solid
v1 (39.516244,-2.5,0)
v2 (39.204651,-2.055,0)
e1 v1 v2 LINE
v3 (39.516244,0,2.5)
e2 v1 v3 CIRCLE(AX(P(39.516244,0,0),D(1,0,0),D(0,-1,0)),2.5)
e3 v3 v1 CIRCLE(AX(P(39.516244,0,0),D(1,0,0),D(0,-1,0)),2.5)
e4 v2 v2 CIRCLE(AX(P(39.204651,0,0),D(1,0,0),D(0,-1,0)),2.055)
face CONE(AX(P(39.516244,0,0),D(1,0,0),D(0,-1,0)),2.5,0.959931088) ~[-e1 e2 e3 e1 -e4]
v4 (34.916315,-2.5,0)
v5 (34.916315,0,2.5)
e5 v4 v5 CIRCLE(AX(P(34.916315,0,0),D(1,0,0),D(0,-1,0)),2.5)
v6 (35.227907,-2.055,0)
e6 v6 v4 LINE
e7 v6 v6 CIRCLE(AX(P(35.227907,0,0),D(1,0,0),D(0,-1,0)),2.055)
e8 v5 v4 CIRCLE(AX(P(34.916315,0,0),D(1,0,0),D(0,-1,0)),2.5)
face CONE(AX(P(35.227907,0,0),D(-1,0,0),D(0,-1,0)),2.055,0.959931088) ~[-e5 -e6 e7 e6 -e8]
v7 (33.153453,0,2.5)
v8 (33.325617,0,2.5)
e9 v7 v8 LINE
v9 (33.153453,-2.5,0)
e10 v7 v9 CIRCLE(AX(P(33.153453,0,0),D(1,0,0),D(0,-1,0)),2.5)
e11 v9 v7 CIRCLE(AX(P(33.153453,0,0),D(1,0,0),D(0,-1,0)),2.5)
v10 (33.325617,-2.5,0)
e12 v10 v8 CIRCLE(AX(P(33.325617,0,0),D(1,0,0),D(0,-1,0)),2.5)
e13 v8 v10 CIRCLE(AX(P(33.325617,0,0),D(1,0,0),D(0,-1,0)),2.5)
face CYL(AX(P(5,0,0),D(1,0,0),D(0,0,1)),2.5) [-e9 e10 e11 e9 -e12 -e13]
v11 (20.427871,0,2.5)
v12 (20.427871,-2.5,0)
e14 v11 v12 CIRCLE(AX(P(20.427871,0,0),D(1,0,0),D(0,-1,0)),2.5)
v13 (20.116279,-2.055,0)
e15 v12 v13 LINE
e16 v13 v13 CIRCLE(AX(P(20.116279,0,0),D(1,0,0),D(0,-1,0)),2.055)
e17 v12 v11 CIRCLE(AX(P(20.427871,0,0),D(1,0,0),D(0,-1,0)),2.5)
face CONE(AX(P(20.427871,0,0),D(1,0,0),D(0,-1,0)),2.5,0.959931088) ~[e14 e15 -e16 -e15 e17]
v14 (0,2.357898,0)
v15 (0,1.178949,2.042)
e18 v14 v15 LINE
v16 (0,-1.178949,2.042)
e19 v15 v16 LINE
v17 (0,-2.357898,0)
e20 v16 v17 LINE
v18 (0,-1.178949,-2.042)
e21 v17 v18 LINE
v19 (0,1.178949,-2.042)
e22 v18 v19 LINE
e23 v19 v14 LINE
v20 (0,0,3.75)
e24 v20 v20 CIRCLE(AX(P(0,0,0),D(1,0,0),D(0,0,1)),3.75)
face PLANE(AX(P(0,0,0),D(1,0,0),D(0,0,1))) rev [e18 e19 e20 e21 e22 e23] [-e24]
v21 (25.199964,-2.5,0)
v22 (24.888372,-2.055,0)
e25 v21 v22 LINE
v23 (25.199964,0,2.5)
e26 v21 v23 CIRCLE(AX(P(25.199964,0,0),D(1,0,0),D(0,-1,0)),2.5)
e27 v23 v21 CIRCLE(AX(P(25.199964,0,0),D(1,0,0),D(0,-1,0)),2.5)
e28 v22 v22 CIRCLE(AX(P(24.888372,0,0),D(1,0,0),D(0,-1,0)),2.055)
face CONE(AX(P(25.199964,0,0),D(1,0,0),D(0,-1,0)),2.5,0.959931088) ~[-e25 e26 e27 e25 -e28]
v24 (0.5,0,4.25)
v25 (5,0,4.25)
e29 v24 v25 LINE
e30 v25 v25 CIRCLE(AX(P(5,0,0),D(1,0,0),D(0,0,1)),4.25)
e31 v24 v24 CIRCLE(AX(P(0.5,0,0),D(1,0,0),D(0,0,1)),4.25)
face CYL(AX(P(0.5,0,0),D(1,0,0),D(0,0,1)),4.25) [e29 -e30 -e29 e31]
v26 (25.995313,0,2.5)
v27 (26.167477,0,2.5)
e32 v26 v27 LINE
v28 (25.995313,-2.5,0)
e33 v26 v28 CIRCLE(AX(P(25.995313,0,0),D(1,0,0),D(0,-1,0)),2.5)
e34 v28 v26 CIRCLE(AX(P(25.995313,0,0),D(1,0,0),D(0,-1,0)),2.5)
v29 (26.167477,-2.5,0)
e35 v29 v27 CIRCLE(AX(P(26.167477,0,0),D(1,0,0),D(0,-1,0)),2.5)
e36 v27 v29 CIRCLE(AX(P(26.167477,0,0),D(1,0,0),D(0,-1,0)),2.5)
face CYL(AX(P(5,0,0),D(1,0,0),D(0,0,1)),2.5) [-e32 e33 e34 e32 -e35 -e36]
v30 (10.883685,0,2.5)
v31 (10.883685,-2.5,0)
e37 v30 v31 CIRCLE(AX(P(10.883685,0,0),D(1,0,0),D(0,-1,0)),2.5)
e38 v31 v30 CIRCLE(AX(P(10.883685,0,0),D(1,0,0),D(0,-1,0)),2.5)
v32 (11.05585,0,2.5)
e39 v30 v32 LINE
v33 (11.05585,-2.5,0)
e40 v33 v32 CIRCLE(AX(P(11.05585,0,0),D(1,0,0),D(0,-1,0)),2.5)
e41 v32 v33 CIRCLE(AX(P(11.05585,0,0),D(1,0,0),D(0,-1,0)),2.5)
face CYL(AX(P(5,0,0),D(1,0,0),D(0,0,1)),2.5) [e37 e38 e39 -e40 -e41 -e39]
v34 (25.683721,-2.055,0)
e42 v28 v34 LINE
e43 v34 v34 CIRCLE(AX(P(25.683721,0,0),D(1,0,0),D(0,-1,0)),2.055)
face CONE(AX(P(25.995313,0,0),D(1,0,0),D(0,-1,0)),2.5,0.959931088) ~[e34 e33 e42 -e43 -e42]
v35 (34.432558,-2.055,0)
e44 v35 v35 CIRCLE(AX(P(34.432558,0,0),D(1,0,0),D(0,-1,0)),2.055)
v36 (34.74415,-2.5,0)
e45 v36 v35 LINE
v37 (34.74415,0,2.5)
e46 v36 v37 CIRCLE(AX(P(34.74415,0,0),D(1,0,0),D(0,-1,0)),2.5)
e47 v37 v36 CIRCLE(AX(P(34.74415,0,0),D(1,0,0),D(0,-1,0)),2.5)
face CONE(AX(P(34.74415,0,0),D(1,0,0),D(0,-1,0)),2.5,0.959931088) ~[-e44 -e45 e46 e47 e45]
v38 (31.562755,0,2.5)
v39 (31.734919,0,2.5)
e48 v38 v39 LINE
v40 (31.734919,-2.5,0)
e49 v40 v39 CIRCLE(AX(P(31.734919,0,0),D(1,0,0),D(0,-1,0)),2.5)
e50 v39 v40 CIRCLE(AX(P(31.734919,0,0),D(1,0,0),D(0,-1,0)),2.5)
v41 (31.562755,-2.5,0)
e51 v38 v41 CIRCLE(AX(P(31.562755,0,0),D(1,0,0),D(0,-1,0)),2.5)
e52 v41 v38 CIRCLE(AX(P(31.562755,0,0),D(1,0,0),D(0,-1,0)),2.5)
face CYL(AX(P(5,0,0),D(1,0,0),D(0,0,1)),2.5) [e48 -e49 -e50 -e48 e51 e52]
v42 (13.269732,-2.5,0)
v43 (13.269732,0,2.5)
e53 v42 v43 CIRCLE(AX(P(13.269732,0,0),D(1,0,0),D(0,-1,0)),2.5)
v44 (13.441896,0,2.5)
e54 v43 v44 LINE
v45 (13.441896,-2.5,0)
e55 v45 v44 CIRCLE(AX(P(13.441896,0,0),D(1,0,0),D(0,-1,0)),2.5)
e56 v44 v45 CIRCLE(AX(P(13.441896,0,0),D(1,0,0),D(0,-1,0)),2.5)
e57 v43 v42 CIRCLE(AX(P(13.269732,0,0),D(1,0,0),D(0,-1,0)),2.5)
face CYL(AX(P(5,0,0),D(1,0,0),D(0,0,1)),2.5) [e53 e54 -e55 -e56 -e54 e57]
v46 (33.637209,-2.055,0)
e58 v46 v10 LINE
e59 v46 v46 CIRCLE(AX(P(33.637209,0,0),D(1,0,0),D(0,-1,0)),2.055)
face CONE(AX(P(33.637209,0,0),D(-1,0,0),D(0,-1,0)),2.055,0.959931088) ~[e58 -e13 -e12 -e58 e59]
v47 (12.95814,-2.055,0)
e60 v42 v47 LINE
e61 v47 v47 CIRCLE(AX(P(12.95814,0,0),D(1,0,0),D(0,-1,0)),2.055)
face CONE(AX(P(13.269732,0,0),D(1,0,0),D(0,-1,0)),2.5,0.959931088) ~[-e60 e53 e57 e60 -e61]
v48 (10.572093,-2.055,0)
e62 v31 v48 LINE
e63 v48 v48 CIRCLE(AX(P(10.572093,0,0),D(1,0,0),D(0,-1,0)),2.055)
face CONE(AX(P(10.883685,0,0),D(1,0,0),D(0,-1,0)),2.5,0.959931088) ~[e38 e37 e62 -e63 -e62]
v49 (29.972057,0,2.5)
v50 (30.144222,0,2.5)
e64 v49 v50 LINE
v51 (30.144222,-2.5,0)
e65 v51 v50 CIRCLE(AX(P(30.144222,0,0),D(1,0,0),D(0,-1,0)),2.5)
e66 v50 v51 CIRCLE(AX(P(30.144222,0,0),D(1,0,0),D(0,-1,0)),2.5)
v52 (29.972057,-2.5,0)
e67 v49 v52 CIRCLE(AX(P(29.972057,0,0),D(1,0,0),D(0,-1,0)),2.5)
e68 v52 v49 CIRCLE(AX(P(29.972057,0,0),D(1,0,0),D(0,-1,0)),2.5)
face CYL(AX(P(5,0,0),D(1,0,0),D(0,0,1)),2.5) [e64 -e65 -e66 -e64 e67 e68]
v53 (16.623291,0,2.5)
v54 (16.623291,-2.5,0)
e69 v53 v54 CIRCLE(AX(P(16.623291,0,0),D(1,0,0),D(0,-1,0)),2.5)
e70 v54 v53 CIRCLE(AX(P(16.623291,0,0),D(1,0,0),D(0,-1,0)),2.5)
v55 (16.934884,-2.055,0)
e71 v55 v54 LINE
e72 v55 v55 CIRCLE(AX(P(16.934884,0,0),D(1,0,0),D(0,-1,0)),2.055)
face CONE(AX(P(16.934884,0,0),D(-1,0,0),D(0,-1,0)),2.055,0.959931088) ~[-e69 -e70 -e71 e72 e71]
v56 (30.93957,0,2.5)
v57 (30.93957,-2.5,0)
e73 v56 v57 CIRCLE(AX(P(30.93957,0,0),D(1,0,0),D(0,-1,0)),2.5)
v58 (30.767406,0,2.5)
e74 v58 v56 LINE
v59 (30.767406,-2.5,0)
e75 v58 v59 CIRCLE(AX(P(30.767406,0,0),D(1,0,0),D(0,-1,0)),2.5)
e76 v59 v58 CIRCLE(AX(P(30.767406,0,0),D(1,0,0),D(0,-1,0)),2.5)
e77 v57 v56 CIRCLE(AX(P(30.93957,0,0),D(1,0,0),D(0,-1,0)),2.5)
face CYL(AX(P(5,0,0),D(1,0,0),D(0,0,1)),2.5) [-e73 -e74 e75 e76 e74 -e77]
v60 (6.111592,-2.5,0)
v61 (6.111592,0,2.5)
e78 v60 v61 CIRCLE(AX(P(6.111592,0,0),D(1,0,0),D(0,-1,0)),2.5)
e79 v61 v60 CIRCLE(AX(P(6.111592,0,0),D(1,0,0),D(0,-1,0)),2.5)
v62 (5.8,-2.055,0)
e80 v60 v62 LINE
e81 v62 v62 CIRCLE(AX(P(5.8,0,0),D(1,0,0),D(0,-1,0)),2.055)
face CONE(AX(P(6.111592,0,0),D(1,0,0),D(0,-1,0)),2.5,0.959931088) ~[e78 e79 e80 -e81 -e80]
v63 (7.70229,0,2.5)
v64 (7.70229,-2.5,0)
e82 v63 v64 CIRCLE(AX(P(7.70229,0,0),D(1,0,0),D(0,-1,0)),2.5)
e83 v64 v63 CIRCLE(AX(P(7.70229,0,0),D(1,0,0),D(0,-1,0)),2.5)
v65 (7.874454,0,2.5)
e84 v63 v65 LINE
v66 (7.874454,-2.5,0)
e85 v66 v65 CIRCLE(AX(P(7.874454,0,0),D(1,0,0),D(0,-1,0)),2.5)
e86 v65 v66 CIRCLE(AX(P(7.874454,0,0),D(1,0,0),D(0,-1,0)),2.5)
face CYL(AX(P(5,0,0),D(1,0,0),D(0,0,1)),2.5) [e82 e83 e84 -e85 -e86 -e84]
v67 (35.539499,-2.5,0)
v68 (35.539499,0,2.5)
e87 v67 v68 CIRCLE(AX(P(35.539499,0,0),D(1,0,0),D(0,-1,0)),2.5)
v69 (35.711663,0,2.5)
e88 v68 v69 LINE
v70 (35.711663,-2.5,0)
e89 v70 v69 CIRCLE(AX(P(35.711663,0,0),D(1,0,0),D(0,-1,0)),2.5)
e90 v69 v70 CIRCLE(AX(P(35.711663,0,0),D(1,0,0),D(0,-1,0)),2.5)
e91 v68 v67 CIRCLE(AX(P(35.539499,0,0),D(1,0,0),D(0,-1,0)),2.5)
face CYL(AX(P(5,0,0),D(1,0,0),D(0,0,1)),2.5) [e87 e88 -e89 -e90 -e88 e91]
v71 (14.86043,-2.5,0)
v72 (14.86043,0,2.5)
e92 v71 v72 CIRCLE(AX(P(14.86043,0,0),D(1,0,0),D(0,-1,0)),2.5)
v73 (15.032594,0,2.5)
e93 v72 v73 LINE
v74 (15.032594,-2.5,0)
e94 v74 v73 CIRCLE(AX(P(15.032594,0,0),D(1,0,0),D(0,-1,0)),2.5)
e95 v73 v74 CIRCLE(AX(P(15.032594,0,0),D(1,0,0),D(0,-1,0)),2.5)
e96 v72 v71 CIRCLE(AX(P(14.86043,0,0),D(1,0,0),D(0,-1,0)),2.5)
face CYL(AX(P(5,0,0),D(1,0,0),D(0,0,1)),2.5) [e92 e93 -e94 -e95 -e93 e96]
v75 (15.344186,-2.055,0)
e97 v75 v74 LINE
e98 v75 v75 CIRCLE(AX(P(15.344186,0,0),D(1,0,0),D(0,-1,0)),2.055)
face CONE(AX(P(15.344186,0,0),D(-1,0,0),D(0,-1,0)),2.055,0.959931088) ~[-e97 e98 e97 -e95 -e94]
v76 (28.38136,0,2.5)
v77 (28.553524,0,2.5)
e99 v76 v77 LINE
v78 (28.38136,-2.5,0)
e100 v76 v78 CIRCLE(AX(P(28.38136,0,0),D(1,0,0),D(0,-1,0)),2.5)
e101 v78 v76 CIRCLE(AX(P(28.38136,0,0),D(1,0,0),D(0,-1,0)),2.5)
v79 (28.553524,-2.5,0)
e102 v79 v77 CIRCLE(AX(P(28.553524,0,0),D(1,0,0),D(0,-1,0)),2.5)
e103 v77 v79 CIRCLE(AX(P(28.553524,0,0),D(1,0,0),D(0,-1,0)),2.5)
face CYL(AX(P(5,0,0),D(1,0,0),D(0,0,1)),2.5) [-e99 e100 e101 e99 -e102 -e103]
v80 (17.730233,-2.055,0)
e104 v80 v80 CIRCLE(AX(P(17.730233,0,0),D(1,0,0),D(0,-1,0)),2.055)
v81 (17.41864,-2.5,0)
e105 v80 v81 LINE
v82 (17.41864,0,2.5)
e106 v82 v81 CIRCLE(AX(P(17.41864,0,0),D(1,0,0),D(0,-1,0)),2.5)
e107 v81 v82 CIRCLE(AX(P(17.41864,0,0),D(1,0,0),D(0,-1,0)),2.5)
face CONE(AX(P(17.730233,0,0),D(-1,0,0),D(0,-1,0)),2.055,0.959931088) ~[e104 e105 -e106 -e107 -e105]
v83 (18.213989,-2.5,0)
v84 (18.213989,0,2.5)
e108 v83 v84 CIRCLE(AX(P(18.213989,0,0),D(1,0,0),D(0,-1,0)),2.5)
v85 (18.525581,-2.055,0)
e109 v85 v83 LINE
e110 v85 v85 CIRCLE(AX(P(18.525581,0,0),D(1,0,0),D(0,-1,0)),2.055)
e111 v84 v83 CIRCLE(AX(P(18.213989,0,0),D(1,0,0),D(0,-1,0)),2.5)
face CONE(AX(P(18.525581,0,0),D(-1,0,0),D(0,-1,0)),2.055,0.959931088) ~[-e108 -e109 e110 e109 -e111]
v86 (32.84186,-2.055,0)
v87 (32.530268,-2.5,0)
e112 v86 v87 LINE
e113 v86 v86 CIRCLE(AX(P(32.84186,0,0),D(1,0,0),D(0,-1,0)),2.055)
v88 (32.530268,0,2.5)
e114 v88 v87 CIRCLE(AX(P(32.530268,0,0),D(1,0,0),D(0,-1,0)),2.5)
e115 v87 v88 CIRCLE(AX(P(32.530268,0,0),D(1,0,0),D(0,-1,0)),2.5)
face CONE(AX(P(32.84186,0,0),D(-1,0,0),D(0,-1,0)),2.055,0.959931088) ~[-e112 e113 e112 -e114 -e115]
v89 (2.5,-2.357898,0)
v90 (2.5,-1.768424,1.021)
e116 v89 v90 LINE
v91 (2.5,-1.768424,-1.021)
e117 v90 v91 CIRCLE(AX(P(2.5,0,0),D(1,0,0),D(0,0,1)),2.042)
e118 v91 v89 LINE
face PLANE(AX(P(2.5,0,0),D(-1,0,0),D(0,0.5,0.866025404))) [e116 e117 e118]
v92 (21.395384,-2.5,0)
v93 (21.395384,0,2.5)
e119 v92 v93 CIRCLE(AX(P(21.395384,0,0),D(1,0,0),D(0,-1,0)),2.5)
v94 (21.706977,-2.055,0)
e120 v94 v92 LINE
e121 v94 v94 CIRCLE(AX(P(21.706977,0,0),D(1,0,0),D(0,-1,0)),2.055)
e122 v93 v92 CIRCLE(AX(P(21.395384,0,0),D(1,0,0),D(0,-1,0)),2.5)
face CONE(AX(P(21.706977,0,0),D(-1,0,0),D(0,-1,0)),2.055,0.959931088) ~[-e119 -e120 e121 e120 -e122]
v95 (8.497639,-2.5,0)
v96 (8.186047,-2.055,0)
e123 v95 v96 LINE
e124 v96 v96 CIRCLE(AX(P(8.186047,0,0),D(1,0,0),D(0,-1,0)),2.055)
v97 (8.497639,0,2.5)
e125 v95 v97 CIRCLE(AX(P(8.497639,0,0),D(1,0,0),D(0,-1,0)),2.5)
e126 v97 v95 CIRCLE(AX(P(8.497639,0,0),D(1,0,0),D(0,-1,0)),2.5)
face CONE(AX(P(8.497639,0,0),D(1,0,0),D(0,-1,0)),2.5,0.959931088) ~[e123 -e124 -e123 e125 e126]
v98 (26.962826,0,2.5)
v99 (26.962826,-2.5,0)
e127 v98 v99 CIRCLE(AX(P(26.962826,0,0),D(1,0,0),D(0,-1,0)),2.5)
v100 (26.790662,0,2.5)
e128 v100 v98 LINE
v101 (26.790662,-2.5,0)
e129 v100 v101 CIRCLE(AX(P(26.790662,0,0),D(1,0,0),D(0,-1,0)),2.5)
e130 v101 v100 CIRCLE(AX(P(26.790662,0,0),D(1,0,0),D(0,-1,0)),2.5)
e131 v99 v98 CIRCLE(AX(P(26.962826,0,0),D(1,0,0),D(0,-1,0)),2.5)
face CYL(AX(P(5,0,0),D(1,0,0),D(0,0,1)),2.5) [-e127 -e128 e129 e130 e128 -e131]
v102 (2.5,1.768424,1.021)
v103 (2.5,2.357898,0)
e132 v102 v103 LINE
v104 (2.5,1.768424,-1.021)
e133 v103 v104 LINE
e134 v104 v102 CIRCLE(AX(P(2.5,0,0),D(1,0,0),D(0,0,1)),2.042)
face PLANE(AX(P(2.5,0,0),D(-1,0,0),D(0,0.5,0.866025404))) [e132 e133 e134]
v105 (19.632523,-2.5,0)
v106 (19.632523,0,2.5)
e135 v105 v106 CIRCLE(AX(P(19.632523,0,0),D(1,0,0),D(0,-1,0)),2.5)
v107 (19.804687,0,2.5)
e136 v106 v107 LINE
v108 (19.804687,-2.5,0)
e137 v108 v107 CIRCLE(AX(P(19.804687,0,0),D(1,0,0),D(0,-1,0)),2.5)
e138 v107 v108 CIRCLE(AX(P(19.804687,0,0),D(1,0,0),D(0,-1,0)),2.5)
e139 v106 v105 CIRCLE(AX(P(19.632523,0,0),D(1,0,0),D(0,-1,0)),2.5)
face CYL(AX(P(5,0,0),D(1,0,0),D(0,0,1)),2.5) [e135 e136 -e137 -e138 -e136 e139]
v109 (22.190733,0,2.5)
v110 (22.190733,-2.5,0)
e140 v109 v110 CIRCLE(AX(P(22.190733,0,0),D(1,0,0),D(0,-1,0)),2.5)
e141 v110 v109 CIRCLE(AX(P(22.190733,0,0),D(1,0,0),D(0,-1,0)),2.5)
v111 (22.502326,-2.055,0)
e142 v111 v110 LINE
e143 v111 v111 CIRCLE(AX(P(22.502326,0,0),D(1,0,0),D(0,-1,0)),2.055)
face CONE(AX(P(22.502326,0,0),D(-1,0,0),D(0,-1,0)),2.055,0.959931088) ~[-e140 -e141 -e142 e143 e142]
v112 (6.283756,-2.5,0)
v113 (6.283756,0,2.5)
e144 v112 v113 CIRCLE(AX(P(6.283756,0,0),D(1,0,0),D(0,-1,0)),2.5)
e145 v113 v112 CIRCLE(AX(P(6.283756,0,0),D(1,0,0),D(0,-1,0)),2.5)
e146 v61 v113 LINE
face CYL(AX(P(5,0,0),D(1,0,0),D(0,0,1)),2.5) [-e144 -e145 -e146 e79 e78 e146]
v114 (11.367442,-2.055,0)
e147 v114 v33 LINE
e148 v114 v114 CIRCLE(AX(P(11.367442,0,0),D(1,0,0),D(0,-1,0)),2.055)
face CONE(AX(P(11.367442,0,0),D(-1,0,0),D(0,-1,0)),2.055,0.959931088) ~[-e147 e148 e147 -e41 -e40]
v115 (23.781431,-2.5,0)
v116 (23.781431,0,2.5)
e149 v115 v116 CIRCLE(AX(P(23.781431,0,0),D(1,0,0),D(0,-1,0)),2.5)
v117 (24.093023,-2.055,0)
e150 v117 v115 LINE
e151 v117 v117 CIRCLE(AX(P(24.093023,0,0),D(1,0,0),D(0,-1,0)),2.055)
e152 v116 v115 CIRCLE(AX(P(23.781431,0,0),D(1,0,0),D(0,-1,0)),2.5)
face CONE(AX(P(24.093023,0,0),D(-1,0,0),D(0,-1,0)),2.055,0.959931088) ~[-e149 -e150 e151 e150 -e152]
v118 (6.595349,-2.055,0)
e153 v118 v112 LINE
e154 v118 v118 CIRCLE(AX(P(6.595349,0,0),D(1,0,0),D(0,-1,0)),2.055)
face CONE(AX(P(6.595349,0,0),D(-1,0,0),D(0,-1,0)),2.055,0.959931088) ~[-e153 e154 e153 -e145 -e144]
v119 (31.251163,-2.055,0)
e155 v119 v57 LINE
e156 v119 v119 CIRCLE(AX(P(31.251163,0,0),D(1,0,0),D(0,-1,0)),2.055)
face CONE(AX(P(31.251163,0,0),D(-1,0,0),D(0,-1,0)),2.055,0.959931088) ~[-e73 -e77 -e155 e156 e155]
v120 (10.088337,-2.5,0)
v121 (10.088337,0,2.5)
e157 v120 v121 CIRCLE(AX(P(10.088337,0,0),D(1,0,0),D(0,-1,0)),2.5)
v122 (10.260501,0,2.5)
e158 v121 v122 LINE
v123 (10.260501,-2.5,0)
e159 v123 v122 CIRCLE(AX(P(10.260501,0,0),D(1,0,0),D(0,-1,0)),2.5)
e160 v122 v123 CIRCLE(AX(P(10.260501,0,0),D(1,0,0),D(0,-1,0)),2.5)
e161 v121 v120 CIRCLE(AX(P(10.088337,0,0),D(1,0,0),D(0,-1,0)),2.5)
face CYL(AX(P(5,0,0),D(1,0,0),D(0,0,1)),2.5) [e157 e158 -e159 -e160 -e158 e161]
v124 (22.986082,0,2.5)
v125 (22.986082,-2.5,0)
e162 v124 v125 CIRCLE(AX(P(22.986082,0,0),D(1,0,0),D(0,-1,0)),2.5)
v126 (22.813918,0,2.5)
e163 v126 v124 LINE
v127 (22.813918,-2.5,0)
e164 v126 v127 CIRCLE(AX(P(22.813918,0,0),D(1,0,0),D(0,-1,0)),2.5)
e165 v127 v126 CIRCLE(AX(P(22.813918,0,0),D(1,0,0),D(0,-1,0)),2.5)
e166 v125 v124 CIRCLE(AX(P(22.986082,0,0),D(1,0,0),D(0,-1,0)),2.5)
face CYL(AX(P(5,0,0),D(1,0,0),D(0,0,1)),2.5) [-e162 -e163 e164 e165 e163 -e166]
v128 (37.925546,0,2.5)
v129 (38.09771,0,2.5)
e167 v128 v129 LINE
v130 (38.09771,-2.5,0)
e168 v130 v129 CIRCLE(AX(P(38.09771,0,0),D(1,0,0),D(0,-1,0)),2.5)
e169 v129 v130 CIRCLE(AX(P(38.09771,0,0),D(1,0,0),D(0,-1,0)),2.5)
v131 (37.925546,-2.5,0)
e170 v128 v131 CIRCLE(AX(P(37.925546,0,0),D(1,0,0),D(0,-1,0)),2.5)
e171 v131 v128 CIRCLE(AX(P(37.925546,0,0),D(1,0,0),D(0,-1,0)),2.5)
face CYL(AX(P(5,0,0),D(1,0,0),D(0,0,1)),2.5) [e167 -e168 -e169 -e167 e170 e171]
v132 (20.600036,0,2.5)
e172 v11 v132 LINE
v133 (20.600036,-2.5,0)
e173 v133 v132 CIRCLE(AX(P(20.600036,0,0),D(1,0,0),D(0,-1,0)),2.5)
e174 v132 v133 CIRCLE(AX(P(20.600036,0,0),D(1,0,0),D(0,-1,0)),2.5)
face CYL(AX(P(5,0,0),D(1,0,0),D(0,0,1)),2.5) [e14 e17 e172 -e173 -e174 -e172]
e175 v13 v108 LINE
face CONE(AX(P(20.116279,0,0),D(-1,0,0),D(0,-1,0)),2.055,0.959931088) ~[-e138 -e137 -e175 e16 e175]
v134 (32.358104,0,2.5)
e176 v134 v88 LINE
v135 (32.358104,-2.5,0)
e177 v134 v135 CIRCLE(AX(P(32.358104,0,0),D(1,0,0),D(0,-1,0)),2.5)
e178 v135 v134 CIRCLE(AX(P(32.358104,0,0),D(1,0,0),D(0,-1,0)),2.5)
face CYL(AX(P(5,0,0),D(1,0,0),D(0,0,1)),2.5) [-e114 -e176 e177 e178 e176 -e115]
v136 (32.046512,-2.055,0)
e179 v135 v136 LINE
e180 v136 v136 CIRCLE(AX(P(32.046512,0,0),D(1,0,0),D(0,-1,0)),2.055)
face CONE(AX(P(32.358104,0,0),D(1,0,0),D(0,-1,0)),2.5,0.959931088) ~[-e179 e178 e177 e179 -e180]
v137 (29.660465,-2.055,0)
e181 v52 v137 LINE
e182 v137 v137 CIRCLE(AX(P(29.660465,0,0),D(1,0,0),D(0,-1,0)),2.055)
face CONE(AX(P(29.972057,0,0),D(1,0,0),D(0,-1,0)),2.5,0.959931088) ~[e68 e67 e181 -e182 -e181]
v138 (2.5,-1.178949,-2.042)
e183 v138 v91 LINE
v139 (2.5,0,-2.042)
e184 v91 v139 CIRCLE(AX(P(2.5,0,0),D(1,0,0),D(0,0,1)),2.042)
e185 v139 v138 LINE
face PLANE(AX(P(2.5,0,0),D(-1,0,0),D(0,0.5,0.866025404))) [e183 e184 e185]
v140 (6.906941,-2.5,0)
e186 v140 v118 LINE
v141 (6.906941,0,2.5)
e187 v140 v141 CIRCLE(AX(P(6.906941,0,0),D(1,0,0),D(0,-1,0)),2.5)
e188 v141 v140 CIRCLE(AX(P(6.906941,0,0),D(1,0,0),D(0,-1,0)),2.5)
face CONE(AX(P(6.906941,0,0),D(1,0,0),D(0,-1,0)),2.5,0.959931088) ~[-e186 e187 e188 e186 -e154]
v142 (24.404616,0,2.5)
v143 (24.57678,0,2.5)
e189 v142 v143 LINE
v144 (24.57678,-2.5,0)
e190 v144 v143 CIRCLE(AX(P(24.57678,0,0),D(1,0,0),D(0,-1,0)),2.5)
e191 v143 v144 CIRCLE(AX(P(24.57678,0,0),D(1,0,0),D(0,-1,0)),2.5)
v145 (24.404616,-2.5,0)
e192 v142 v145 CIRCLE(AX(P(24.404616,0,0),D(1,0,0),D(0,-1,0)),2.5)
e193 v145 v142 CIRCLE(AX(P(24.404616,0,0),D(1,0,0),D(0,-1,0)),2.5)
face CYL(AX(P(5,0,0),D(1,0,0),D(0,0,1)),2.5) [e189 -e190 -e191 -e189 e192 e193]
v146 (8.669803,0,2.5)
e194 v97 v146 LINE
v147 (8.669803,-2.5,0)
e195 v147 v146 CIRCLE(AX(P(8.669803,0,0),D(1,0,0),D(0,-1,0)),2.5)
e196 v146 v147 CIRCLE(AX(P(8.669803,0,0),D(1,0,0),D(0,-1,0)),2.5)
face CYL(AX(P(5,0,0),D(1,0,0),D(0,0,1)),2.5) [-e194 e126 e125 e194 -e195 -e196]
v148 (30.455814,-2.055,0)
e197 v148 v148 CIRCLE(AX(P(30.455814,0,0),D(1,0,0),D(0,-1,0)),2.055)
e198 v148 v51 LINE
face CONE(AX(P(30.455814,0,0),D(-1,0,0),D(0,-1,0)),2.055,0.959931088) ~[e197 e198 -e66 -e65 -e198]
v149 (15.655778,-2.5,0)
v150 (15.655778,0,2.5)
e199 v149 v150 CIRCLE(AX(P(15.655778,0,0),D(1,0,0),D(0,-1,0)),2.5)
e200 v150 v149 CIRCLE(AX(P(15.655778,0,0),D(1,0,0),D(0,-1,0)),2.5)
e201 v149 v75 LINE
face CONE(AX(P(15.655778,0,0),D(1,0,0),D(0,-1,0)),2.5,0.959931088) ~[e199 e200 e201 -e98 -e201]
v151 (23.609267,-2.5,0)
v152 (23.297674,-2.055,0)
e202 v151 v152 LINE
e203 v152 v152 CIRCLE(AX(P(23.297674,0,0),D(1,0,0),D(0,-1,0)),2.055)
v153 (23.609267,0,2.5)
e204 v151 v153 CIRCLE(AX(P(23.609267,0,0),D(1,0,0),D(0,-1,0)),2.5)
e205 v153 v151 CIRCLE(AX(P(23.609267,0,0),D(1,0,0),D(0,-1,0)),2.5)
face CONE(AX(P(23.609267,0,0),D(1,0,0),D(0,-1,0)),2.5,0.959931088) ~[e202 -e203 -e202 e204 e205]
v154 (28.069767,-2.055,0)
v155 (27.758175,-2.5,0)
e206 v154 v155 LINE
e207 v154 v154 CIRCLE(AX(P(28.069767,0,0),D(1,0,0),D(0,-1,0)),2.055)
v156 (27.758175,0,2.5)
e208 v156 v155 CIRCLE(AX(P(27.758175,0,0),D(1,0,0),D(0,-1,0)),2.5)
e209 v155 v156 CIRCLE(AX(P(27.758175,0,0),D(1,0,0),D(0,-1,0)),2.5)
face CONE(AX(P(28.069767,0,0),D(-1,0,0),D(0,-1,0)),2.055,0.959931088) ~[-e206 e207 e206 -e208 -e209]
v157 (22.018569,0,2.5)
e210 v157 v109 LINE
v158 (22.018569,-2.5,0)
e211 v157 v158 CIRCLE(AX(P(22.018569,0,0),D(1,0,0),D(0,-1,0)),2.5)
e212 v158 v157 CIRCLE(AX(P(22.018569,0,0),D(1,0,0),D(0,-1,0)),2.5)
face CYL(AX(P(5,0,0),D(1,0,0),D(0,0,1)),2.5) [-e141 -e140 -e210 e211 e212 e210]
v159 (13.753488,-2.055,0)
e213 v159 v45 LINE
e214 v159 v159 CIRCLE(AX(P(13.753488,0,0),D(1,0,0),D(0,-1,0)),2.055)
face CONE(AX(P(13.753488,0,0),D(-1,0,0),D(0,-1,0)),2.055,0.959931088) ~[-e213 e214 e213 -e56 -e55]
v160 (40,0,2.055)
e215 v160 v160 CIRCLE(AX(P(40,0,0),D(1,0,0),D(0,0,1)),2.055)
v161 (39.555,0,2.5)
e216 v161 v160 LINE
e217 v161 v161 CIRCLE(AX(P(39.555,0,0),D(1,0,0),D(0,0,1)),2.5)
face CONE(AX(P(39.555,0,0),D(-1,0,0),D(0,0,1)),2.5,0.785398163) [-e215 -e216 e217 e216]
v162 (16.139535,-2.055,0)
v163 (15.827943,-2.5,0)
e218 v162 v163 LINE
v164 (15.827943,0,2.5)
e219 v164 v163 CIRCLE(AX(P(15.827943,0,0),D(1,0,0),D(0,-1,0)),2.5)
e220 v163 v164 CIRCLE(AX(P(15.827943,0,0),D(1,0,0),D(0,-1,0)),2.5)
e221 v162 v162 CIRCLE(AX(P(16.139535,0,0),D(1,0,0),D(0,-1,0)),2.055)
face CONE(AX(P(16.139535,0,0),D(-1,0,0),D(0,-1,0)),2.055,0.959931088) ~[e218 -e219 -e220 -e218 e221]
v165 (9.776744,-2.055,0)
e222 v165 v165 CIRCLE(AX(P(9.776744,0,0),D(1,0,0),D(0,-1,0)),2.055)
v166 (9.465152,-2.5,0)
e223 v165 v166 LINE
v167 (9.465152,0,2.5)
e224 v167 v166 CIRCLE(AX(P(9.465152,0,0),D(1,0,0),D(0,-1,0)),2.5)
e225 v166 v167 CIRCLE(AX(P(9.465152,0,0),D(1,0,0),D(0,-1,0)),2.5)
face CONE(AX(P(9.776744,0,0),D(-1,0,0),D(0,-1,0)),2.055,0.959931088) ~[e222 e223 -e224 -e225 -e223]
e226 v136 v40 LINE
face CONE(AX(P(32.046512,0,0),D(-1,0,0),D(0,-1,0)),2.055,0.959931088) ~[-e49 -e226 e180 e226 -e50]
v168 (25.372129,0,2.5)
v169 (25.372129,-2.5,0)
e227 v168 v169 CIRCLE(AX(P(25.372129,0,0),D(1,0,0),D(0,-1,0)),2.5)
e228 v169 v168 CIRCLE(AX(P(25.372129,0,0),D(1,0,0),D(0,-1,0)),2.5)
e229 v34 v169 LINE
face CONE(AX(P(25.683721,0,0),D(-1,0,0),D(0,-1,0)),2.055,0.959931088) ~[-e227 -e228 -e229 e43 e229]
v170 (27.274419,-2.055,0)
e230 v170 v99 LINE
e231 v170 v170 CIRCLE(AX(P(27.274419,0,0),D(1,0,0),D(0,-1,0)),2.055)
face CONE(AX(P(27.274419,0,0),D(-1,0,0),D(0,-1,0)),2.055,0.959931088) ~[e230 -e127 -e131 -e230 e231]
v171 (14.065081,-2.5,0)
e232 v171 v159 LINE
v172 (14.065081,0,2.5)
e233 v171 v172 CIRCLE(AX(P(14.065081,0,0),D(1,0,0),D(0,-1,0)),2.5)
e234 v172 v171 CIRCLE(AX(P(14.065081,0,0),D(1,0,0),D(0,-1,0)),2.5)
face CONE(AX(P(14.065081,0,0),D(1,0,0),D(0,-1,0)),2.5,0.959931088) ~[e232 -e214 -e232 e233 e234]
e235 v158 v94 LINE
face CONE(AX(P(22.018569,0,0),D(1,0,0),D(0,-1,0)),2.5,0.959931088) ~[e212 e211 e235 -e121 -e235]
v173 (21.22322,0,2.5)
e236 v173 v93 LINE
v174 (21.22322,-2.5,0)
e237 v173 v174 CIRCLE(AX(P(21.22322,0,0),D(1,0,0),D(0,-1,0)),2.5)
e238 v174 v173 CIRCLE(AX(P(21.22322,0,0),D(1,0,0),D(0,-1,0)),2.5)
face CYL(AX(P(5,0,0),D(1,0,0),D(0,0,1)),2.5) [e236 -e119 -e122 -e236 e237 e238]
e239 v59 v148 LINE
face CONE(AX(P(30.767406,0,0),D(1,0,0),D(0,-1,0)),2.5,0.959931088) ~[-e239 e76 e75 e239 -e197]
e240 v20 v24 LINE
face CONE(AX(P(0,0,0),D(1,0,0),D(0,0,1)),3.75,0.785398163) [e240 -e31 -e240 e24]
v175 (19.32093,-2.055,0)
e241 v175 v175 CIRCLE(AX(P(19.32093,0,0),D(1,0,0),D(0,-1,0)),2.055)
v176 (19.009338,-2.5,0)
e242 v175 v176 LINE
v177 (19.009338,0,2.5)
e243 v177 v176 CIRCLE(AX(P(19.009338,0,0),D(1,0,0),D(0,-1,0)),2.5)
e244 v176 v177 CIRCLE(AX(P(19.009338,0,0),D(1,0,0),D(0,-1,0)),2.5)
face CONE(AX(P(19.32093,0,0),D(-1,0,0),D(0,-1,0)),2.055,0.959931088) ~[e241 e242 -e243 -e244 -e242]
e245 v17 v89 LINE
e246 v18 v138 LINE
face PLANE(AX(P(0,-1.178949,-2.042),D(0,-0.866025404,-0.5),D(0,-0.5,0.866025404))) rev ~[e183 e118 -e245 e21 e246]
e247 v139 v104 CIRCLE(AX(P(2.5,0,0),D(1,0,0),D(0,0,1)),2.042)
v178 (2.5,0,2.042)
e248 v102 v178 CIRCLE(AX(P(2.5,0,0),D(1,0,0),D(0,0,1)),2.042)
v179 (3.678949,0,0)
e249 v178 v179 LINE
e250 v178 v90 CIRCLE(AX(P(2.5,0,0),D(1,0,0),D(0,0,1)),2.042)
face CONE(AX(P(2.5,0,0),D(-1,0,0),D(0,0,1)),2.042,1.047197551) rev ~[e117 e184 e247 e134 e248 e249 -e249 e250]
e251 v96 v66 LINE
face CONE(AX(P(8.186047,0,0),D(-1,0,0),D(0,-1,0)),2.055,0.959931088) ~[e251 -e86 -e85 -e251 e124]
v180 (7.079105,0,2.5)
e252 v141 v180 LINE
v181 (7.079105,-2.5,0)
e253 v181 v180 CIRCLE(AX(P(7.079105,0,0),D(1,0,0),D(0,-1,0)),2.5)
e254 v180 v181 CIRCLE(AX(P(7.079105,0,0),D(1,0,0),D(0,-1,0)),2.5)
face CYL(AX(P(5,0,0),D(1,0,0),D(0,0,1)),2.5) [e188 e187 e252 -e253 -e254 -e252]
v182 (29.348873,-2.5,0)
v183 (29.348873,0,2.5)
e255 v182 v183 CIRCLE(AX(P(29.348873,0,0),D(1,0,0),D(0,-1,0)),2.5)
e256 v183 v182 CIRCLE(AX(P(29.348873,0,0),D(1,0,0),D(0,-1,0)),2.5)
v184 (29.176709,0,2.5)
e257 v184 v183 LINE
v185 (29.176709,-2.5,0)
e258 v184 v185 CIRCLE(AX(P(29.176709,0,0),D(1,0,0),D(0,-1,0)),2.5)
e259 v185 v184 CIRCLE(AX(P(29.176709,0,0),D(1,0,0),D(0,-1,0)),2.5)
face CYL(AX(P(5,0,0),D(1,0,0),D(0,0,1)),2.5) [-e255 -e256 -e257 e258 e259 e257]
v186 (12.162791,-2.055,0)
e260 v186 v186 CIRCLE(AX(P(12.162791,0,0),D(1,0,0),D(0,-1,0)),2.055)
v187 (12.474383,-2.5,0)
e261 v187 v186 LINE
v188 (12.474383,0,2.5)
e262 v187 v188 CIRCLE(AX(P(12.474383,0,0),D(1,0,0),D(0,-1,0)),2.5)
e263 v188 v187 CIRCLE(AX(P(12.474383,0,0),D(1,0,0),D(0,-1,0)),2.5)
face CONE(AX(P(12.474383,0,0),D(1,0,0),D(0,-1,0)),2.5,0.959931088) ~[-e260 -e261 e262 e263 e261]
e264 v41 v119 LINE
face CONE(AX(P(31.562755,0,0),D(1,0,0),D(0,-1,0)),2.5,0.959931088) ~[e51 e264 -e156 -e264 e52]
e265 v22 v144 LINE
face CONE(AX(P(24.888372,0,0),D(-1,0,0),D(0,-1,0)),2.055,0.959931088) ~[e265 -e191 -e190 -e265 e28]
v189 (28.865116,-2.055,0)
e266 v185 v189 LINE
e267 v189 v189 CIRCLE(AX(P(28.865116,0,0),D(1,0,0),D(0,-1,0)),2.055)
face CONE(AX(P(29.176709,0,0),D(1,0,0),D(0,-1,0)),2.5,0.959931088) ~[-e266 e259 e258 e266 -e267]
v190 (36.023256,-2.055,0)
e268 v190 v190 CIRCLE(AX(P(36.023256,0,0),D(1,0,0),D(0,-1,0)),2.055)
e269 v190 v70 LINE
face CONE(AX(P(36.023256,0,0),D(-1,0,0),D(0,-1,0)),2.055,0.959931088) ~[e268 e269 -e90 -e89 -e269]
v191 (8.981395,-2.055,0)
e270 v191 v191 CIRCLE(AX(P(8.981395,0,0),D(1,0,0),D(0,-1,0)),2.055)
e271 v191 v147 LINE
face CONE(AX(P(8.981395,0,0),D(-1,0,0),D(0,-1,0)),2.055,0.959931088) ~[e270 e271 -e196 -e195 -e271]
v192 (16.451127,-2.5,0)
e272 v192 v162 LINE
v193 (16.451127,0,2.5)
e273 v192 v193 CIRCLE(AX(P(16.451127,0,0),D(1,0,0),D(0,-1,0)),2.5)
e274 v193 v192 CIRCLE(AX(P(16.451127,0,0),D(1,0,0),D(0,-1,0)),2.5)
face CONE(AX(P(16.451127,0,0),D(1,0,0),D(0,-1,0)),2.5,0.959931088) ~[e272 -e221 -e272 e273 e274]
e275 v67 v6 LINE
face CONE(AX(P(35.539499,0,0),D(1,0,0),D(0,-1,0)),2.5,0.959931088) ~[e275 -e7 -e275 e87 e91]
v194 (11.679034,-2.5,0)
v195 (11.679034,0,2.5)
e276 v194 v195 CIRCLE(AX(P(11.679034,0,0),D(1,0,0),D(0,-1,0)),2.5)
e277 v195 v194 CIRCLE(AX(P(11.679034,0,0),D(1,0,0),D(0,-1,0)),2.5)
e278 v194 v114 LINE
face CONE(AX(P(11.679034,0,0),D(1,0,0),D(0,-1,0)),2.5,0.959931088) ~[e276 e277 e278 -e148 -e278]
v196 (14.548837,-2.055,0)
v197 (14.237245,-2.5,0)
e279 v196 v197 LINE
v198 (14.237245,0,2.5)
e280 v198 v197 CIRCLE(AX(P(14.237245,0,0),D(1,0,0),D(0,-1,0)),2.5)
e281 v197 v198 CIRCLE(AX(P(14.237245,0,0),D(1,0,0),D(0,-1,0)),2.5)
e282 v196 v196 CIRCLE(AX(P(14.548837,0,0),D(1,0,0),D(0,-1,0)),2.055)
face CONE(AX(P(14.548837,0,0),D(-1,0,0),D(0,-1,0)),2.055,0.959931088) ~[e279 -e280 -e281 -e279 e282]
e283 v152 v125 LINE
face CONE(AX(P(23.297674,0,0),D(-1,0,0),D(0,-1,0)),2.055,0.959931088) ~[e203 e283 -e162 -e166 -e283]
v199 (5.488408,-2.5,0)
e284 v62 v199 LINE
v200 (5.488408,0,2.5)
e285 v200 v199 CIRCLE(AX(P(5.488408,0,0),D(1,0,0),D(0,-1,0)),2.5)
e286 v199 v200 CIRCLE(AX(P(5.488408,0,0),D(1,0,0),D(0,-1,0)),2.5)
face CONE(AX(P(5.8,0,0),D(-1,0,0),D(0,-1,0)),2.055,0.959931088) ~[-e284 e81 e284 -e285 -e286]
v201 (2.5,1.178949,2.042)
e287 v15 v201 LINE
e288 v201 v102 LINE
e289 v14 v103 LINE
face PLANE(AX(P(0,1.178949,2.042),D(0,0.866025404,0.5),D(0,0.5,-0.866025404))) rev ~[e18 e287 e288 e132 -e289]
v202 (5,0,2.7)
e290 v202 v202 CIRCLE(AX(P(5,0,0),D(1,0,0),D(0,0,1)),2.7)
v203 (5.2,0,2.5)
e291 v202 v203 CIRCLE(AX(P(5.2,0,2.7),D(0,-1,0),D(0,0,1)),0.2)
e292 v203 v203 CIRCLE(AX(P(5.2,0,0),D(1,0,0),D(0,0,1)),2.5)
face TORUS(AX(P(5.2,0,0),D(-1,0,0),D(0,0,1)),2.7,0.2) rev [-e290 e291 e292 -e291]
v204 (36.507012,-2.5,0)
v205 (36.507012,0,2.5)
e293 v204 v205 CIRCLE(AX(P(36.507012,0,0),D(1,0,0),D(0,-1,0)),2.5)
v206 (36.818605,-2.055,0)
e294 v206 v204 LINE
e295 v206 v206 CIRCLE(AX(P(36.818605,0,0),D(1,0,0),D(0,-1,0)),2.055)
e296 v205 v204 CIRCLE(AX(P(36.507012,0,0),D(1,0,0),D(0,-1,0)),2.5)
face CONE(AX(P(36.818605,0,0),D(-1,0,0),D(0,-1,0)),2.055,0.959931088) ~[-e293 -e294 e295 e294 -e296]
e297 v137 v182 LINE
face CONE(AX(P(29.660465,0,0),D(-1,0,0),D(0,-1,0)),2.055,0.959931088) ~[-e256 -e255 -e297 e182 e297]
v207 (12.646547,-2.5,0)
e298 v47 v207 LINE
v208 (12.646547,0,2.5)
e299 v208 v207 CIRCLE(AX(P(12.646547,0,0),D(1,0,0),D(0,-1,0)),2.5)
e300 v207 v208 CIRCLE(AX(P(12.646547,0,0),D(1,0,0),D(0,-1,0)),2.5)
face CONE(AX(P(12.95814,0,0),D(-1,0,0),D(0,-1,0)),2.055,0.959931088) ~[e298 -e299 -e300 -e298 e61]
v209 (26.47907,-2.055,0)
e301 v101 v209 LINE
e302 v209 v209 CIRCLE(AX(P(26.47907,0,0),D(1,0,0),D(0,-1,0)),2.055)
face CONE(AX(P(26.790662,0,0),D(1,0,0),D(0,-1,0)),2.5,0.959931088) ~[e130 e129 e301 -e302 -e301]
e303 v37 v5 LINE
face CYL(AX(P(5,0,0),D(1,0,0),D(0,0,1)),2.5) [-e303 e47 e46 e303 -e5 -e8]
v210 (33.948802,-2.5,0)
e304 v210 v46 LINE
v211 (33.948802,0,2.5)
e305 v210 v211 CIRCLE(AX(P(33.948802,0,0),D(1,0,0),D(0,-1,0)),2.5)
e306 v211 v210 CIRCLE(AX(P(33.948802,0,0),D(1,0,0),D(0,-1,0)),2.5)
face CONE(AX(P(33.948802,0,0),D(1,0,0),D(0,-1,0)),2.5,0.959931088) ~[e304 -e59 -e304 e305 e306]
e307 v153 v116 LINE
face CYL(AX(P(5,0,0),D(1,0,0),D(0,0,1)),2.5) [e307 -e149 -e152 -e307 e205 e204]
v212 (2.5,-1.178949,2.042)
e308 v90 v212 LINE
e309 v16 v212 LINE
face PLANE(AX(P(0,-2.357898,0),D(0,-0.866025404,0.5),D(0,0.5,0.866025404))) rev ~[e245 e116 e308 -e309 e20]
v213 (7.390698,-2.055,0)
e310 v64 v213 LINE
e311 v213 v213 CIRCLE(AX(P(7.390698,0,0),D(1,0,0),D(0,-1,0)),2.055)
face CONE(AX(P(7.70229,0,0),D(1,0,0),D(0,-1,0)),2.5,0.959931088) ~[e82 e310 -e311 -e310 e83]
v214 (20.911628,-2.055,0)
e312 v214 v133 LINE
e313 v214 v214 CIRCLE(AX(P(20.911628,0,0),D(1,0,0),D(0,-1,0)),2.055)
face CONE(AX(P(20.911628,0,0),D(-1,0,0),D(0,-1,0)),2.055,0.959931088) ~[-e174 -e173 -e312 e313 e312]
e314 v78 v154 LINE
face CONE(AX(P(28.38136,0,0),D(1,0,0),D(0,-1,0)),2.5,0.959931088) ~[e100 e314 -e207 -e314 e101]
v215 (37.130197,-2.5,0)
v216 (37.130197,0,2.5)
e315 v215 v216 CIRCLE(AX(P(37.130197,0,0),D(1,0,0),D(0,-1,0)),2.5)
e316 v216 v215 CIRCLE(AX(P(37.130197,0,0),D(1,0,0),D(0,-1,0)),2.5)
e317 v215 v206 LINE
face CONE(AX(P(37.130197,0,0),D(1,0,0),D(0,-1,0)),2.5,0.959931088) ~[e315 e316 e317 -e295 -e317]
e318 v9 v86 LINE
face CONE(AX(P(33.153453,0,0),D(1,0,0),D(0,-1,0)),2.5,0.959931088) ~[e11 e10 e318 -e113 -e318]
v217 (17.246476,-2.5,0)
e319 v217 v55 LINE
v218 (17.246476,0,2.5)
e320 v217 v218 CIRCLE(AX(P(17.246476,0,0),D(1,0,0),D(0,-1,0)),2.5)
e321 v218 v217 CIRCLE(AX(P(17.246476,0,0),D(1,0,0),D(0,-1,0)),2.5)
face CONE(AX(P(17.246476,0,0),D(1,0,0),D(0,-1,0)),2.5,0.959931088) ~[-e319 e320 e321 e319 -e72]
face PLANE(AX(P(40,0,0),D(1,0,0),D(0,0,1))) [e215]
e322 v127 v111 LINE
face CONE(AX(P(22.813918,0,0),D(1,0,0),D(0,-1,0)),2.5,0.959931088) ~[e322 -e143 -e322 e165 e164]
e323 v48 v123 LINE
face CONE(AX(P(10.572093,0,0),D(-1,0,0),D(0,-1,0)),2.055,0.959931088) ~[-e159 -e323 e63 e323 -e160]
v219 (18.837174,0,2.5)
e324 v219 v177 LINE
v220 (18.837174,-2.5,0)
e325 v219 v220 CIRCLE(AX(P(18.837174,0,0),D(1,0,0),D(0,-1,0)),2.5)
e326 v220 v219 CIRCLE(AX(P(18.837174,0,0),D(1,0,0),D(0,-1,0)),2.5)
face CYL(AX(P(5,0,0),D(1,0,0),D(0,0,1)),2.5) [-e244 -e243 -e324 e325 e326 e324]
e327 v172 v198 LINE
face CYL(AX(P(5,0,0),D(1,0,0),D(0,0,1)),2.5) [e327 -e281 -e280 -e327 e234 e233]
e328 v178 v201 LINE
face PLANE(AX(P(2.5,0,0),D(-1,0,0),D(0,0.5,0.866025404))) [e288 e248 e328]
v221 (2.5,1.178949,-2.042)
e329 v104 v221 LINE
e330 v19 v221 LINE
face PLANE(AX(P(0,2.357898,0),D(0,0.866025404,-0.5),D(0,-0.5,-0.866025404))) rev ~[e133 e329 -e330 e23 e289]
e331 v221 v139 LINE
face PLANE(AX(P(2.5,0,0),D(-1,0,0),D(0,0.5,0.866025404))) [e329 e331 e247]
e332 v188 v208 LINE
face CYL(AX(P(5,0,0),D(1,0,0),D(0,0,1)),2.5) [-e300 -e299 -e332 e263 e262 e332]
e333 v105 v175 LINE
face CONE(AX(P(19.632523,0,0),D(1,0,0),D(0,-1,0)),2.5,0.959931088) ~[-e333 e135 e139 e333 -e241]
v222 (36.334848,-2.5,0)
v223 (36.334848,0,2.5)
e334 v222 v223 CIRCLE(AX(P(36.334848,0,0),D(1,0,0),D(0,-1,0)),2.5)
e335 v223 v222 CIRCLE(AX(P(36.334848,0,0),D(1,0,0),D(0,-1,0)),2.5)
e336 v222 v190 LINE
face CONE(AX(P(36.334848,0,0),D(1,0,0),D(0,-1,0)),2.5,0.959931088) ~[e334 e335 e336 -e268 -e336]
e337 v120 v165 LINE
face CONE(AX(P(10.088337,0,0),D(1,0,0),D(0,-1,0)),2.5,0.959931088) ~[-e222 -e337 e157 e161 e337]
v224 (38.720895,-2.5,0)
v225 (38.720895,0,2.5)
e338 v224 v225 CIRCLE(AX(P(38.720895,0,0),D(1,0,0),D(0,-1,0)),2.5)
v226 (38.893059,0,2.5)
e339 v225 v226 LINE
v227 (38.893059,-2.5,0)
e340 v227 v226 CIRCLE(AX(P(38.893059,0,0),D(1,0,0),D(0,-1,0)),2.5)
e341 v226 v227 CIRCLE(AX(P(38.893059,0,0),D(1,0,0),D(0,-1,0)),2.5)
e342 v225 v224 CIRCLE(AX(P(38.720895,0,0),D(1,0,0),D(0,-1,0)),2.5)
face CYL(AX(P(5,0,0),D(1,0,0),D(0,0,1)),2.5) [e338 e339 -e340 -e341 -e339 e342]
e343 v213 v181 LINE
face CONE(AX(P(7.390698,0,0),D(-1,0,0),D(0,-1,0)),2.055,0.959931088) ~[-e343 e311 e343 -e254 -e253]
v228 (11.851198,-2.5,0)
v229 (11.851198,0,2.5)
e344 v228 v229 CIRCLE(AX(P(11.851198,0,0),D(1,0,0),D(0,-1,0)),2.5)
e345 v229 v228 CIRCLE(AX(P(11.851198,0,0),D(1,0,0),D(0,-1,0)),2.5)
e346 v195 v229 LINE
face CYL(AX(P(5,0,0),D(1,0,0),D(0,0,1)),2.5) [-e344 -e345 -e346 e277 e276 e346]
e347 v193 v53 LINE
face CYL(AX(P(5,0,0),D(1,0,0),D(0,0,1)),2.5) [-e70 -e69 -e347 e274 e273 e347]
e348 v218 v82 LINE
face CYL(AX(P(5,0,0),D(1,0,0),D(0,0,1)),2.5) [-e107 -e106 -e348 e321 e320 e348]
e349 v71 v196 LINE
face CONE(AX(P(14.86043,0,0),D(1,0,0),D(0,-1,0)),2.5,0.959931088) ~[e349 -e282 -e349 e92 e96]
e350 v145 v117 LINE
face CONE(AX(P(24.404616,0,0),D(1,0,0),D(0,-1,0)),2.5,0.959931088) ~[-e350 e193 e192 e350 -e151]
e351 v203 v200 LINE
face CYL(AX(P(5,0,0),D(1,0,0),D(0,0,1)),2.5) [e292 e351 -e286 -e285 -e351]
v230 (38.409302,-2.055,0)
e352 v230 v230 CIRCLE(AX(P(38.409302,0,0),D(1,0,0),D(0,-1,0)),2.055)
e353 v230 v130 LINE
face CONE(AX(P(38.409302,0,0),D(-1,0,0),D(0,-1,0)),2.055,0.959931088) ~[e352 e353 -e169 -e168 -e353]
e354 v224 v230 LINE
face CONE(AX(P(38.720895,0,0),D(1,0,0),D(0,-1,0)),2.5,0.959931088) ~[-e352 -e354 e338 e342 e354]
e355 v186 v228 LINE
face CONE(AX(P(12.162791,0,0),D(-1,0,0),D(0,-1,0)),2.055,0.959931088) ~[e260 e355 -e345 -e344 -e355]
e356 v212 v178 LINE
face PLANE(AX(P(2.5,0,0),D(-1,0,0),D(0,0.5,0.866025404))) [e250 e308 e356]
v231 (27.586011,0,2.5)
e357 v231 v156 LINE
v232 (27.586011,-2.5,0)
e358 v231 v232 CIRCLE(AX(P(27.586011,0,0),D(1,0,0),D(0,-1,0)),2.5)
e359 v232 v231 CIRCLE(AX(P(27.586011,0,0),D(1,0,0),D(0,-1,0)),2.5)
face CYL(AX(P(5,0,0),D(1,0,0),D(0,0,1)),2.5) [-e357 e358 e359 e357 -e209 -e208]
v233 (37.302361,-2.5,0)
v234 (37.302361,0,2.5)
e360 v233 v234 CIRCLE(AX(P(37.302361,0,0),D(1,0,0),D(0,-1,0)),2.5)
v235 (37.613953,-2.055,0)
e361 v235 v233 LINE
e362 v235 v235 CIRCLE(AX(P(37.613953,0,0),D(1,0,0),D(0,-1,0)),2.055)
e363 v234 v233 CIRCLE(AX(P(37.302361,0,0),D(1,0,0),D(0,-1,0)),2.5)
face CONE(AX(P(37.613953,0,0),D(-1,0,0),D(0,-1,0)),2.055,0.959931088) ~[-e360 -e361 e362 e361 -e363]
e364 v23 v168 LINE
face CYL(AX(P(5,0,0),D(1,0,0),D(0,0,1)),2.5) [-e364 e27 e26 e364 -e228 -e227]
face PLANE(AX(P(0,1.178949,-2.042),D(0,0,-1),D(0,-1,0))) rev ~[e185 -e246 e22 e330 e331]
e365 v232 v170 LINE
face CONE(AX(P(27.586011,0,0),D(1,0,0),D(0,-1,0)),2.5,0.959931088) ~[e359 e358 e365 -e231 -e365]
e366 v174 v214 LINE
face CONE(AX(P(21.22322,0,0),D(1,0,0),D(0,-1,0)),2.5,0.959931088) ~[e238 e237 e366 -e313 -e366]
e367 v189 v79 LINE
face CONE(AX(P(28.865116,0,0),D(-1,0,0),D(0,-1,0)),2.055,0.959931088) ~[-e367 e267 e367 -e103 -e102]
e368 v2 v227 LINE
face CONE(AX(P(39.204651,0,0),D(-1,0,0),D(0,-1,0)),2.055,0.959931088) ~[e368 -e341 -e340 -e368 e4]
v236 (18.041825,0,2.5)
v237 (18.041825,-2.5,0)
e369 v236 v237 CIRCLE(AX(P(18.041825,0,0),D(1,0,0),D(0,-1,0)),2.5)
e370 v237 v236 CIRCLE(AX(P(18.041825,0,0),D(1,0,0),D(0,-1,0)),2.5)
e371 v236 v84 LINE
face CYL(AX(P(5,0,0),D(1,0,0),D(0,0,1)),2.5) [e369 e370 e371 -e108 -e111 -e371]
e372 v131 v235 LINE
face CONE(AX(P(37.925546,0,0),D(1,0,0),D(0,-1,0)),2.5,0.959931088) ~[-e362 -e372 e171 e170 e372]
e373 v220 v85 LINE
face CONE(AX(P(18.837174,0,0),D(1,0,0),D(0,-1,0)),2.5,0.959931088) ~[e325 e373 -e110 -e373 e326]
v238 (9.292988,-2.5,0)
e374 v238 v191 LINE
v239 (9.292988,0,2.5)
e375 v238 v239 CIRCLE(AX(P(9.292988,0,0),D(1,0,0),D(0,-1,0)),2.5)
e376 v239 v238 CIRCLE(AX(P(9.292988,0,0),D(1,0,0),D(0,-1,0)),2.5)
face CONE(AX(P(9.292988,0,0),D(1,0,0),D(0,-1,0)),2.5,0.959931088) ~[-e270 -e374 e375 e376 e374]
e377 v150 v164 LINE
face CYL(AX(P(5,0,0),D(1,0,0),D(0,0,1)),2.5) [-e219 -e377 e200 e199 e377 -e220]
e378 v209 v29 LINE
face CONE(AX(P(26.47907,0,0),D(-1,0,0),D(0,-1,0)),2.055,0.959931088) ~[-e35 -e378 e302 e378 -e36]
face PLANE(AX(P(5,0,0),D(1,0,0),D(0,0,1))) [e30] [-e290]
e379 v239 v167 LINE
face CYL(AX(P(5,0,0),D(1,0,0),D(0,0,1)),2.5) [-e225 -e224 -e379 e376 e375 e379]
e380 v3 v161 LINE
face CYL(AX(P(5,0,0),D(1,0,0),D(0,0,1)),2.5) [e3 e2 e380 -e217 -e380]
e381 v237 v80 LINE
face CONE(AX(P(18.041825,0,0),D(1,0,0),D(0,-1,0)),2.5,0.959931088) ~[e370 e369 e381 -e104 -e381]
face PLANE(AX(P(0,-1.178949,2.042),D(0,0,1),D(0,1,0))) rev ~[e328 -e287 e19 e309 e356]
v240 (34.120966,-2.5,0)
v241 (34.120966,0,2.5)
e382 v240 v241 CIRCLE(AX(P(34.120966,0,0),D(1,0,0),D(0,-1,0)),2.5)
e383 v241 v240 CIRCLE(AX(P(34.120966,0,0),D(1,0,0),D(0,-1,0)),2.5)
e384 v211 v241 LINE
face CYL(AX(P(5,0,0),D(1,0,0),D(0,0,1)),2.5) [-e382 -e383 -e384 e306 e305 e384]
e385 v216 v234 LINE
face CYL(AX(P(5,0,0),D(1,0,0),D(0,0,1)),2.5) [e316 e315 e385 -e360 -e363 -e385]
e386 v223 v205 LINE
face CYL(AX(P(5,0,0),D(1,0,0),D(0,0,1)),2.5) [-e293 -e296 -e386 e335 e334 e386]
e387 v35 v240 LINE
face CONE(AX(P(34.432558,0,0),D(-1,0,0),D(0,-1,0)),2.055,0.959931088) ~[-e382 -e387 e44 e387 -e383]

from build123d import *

# Parameters (mm, degrees)
FILLET1_R       = 0.2
HEX_2_DEPTH     = 2.5
THDSCHPAT_COUNT = 43
THDSCHPAT_PITCH = 0.795348837


with BuildPart() as part:
    # BodySke → Base-Revolve (revolve)
    with BuildSketch(Plane.XY, mode=Mode.PRIVATE) as base_revolve_sk:
        Polygon((0, 0), (0, 3.75), (0.5, 4.25), (5, 4.25), (5, 2.5), (39.555, 2.5), (40, 2.055), (40, 0), align=None)
    revolve(base_revolve_sk.sketch.rotate(Axis((-31.75, 0, 0), (1, 0, 0)), 90), axis=Axis((-31.75, 0, 0), (1, 0, 0)))

    # Fillet1
    fillet1_edges = [part.edges().sort_by_distance(p)[0] for p in [
        (5, 0, -2.5),
    ]]
    fillet(fillet1_edges, radius=FILLET1_R)

    # Sketch2 → Hex-PreBroach (revolve, cut)
    with BuildSketch(Plane.XY, mode=Mode.PRIVATE) as hex_prebroach_sk:
        Polygon((0, 2.042), (2.5, 2.042), (3.67894925, 0), (0, 0), align=None)
    revolve(hex_prebroach_sk.sketch.rotate(Axis((0, 0, 0), (1, 0, 0)), 90), axis=Axis((0, 0, 0), (1, 0, 0)), mode=Mode.SUBTRACT)

    # Sketch3 → Hex 2 (cut)
    with BuildSketch(Plane(origin=(0, 0, 0), x_dir=(0, 0.500000000000001, 0.866025403784438), z_dir=(-1, 0, 0))):
        Polygon((1.17894925, 2.042), (-1.17894925, 2.042), (-2.357898499, 0), (-1.17894925, -2.042), (1.17894925, -2.042), (2.357898499, 0), align=None)
    extrude(amount=-HEX_2_DEPTH, mode=Mode.SUBTRACT)

    # ThdSchSke → ThreadSchematic (revolve, cut)
    with BuildSketch(Plane.XY):
        Polygon((5.8, -2.055), (5.488407645, -2.5), (5.488407645, -3.125), (6.111592355, -3.125), (6.111592355, -2.5), align=None)
    threadschematic = revolve(axis=Axis((-3.175, 0, 0), (1, 0, 0)), mode=Mode.SUBTRACT)

    # ThdSchPat: ThreadSchematic ×43
    with Locations(*[(i * THDSCHPAT_PITCH, 0, 0) for i in range(1, THDSCHPAT_COUNT)]):
        add(threadschematic, mode=Mode.SUBTRACT)


solid = part.part
